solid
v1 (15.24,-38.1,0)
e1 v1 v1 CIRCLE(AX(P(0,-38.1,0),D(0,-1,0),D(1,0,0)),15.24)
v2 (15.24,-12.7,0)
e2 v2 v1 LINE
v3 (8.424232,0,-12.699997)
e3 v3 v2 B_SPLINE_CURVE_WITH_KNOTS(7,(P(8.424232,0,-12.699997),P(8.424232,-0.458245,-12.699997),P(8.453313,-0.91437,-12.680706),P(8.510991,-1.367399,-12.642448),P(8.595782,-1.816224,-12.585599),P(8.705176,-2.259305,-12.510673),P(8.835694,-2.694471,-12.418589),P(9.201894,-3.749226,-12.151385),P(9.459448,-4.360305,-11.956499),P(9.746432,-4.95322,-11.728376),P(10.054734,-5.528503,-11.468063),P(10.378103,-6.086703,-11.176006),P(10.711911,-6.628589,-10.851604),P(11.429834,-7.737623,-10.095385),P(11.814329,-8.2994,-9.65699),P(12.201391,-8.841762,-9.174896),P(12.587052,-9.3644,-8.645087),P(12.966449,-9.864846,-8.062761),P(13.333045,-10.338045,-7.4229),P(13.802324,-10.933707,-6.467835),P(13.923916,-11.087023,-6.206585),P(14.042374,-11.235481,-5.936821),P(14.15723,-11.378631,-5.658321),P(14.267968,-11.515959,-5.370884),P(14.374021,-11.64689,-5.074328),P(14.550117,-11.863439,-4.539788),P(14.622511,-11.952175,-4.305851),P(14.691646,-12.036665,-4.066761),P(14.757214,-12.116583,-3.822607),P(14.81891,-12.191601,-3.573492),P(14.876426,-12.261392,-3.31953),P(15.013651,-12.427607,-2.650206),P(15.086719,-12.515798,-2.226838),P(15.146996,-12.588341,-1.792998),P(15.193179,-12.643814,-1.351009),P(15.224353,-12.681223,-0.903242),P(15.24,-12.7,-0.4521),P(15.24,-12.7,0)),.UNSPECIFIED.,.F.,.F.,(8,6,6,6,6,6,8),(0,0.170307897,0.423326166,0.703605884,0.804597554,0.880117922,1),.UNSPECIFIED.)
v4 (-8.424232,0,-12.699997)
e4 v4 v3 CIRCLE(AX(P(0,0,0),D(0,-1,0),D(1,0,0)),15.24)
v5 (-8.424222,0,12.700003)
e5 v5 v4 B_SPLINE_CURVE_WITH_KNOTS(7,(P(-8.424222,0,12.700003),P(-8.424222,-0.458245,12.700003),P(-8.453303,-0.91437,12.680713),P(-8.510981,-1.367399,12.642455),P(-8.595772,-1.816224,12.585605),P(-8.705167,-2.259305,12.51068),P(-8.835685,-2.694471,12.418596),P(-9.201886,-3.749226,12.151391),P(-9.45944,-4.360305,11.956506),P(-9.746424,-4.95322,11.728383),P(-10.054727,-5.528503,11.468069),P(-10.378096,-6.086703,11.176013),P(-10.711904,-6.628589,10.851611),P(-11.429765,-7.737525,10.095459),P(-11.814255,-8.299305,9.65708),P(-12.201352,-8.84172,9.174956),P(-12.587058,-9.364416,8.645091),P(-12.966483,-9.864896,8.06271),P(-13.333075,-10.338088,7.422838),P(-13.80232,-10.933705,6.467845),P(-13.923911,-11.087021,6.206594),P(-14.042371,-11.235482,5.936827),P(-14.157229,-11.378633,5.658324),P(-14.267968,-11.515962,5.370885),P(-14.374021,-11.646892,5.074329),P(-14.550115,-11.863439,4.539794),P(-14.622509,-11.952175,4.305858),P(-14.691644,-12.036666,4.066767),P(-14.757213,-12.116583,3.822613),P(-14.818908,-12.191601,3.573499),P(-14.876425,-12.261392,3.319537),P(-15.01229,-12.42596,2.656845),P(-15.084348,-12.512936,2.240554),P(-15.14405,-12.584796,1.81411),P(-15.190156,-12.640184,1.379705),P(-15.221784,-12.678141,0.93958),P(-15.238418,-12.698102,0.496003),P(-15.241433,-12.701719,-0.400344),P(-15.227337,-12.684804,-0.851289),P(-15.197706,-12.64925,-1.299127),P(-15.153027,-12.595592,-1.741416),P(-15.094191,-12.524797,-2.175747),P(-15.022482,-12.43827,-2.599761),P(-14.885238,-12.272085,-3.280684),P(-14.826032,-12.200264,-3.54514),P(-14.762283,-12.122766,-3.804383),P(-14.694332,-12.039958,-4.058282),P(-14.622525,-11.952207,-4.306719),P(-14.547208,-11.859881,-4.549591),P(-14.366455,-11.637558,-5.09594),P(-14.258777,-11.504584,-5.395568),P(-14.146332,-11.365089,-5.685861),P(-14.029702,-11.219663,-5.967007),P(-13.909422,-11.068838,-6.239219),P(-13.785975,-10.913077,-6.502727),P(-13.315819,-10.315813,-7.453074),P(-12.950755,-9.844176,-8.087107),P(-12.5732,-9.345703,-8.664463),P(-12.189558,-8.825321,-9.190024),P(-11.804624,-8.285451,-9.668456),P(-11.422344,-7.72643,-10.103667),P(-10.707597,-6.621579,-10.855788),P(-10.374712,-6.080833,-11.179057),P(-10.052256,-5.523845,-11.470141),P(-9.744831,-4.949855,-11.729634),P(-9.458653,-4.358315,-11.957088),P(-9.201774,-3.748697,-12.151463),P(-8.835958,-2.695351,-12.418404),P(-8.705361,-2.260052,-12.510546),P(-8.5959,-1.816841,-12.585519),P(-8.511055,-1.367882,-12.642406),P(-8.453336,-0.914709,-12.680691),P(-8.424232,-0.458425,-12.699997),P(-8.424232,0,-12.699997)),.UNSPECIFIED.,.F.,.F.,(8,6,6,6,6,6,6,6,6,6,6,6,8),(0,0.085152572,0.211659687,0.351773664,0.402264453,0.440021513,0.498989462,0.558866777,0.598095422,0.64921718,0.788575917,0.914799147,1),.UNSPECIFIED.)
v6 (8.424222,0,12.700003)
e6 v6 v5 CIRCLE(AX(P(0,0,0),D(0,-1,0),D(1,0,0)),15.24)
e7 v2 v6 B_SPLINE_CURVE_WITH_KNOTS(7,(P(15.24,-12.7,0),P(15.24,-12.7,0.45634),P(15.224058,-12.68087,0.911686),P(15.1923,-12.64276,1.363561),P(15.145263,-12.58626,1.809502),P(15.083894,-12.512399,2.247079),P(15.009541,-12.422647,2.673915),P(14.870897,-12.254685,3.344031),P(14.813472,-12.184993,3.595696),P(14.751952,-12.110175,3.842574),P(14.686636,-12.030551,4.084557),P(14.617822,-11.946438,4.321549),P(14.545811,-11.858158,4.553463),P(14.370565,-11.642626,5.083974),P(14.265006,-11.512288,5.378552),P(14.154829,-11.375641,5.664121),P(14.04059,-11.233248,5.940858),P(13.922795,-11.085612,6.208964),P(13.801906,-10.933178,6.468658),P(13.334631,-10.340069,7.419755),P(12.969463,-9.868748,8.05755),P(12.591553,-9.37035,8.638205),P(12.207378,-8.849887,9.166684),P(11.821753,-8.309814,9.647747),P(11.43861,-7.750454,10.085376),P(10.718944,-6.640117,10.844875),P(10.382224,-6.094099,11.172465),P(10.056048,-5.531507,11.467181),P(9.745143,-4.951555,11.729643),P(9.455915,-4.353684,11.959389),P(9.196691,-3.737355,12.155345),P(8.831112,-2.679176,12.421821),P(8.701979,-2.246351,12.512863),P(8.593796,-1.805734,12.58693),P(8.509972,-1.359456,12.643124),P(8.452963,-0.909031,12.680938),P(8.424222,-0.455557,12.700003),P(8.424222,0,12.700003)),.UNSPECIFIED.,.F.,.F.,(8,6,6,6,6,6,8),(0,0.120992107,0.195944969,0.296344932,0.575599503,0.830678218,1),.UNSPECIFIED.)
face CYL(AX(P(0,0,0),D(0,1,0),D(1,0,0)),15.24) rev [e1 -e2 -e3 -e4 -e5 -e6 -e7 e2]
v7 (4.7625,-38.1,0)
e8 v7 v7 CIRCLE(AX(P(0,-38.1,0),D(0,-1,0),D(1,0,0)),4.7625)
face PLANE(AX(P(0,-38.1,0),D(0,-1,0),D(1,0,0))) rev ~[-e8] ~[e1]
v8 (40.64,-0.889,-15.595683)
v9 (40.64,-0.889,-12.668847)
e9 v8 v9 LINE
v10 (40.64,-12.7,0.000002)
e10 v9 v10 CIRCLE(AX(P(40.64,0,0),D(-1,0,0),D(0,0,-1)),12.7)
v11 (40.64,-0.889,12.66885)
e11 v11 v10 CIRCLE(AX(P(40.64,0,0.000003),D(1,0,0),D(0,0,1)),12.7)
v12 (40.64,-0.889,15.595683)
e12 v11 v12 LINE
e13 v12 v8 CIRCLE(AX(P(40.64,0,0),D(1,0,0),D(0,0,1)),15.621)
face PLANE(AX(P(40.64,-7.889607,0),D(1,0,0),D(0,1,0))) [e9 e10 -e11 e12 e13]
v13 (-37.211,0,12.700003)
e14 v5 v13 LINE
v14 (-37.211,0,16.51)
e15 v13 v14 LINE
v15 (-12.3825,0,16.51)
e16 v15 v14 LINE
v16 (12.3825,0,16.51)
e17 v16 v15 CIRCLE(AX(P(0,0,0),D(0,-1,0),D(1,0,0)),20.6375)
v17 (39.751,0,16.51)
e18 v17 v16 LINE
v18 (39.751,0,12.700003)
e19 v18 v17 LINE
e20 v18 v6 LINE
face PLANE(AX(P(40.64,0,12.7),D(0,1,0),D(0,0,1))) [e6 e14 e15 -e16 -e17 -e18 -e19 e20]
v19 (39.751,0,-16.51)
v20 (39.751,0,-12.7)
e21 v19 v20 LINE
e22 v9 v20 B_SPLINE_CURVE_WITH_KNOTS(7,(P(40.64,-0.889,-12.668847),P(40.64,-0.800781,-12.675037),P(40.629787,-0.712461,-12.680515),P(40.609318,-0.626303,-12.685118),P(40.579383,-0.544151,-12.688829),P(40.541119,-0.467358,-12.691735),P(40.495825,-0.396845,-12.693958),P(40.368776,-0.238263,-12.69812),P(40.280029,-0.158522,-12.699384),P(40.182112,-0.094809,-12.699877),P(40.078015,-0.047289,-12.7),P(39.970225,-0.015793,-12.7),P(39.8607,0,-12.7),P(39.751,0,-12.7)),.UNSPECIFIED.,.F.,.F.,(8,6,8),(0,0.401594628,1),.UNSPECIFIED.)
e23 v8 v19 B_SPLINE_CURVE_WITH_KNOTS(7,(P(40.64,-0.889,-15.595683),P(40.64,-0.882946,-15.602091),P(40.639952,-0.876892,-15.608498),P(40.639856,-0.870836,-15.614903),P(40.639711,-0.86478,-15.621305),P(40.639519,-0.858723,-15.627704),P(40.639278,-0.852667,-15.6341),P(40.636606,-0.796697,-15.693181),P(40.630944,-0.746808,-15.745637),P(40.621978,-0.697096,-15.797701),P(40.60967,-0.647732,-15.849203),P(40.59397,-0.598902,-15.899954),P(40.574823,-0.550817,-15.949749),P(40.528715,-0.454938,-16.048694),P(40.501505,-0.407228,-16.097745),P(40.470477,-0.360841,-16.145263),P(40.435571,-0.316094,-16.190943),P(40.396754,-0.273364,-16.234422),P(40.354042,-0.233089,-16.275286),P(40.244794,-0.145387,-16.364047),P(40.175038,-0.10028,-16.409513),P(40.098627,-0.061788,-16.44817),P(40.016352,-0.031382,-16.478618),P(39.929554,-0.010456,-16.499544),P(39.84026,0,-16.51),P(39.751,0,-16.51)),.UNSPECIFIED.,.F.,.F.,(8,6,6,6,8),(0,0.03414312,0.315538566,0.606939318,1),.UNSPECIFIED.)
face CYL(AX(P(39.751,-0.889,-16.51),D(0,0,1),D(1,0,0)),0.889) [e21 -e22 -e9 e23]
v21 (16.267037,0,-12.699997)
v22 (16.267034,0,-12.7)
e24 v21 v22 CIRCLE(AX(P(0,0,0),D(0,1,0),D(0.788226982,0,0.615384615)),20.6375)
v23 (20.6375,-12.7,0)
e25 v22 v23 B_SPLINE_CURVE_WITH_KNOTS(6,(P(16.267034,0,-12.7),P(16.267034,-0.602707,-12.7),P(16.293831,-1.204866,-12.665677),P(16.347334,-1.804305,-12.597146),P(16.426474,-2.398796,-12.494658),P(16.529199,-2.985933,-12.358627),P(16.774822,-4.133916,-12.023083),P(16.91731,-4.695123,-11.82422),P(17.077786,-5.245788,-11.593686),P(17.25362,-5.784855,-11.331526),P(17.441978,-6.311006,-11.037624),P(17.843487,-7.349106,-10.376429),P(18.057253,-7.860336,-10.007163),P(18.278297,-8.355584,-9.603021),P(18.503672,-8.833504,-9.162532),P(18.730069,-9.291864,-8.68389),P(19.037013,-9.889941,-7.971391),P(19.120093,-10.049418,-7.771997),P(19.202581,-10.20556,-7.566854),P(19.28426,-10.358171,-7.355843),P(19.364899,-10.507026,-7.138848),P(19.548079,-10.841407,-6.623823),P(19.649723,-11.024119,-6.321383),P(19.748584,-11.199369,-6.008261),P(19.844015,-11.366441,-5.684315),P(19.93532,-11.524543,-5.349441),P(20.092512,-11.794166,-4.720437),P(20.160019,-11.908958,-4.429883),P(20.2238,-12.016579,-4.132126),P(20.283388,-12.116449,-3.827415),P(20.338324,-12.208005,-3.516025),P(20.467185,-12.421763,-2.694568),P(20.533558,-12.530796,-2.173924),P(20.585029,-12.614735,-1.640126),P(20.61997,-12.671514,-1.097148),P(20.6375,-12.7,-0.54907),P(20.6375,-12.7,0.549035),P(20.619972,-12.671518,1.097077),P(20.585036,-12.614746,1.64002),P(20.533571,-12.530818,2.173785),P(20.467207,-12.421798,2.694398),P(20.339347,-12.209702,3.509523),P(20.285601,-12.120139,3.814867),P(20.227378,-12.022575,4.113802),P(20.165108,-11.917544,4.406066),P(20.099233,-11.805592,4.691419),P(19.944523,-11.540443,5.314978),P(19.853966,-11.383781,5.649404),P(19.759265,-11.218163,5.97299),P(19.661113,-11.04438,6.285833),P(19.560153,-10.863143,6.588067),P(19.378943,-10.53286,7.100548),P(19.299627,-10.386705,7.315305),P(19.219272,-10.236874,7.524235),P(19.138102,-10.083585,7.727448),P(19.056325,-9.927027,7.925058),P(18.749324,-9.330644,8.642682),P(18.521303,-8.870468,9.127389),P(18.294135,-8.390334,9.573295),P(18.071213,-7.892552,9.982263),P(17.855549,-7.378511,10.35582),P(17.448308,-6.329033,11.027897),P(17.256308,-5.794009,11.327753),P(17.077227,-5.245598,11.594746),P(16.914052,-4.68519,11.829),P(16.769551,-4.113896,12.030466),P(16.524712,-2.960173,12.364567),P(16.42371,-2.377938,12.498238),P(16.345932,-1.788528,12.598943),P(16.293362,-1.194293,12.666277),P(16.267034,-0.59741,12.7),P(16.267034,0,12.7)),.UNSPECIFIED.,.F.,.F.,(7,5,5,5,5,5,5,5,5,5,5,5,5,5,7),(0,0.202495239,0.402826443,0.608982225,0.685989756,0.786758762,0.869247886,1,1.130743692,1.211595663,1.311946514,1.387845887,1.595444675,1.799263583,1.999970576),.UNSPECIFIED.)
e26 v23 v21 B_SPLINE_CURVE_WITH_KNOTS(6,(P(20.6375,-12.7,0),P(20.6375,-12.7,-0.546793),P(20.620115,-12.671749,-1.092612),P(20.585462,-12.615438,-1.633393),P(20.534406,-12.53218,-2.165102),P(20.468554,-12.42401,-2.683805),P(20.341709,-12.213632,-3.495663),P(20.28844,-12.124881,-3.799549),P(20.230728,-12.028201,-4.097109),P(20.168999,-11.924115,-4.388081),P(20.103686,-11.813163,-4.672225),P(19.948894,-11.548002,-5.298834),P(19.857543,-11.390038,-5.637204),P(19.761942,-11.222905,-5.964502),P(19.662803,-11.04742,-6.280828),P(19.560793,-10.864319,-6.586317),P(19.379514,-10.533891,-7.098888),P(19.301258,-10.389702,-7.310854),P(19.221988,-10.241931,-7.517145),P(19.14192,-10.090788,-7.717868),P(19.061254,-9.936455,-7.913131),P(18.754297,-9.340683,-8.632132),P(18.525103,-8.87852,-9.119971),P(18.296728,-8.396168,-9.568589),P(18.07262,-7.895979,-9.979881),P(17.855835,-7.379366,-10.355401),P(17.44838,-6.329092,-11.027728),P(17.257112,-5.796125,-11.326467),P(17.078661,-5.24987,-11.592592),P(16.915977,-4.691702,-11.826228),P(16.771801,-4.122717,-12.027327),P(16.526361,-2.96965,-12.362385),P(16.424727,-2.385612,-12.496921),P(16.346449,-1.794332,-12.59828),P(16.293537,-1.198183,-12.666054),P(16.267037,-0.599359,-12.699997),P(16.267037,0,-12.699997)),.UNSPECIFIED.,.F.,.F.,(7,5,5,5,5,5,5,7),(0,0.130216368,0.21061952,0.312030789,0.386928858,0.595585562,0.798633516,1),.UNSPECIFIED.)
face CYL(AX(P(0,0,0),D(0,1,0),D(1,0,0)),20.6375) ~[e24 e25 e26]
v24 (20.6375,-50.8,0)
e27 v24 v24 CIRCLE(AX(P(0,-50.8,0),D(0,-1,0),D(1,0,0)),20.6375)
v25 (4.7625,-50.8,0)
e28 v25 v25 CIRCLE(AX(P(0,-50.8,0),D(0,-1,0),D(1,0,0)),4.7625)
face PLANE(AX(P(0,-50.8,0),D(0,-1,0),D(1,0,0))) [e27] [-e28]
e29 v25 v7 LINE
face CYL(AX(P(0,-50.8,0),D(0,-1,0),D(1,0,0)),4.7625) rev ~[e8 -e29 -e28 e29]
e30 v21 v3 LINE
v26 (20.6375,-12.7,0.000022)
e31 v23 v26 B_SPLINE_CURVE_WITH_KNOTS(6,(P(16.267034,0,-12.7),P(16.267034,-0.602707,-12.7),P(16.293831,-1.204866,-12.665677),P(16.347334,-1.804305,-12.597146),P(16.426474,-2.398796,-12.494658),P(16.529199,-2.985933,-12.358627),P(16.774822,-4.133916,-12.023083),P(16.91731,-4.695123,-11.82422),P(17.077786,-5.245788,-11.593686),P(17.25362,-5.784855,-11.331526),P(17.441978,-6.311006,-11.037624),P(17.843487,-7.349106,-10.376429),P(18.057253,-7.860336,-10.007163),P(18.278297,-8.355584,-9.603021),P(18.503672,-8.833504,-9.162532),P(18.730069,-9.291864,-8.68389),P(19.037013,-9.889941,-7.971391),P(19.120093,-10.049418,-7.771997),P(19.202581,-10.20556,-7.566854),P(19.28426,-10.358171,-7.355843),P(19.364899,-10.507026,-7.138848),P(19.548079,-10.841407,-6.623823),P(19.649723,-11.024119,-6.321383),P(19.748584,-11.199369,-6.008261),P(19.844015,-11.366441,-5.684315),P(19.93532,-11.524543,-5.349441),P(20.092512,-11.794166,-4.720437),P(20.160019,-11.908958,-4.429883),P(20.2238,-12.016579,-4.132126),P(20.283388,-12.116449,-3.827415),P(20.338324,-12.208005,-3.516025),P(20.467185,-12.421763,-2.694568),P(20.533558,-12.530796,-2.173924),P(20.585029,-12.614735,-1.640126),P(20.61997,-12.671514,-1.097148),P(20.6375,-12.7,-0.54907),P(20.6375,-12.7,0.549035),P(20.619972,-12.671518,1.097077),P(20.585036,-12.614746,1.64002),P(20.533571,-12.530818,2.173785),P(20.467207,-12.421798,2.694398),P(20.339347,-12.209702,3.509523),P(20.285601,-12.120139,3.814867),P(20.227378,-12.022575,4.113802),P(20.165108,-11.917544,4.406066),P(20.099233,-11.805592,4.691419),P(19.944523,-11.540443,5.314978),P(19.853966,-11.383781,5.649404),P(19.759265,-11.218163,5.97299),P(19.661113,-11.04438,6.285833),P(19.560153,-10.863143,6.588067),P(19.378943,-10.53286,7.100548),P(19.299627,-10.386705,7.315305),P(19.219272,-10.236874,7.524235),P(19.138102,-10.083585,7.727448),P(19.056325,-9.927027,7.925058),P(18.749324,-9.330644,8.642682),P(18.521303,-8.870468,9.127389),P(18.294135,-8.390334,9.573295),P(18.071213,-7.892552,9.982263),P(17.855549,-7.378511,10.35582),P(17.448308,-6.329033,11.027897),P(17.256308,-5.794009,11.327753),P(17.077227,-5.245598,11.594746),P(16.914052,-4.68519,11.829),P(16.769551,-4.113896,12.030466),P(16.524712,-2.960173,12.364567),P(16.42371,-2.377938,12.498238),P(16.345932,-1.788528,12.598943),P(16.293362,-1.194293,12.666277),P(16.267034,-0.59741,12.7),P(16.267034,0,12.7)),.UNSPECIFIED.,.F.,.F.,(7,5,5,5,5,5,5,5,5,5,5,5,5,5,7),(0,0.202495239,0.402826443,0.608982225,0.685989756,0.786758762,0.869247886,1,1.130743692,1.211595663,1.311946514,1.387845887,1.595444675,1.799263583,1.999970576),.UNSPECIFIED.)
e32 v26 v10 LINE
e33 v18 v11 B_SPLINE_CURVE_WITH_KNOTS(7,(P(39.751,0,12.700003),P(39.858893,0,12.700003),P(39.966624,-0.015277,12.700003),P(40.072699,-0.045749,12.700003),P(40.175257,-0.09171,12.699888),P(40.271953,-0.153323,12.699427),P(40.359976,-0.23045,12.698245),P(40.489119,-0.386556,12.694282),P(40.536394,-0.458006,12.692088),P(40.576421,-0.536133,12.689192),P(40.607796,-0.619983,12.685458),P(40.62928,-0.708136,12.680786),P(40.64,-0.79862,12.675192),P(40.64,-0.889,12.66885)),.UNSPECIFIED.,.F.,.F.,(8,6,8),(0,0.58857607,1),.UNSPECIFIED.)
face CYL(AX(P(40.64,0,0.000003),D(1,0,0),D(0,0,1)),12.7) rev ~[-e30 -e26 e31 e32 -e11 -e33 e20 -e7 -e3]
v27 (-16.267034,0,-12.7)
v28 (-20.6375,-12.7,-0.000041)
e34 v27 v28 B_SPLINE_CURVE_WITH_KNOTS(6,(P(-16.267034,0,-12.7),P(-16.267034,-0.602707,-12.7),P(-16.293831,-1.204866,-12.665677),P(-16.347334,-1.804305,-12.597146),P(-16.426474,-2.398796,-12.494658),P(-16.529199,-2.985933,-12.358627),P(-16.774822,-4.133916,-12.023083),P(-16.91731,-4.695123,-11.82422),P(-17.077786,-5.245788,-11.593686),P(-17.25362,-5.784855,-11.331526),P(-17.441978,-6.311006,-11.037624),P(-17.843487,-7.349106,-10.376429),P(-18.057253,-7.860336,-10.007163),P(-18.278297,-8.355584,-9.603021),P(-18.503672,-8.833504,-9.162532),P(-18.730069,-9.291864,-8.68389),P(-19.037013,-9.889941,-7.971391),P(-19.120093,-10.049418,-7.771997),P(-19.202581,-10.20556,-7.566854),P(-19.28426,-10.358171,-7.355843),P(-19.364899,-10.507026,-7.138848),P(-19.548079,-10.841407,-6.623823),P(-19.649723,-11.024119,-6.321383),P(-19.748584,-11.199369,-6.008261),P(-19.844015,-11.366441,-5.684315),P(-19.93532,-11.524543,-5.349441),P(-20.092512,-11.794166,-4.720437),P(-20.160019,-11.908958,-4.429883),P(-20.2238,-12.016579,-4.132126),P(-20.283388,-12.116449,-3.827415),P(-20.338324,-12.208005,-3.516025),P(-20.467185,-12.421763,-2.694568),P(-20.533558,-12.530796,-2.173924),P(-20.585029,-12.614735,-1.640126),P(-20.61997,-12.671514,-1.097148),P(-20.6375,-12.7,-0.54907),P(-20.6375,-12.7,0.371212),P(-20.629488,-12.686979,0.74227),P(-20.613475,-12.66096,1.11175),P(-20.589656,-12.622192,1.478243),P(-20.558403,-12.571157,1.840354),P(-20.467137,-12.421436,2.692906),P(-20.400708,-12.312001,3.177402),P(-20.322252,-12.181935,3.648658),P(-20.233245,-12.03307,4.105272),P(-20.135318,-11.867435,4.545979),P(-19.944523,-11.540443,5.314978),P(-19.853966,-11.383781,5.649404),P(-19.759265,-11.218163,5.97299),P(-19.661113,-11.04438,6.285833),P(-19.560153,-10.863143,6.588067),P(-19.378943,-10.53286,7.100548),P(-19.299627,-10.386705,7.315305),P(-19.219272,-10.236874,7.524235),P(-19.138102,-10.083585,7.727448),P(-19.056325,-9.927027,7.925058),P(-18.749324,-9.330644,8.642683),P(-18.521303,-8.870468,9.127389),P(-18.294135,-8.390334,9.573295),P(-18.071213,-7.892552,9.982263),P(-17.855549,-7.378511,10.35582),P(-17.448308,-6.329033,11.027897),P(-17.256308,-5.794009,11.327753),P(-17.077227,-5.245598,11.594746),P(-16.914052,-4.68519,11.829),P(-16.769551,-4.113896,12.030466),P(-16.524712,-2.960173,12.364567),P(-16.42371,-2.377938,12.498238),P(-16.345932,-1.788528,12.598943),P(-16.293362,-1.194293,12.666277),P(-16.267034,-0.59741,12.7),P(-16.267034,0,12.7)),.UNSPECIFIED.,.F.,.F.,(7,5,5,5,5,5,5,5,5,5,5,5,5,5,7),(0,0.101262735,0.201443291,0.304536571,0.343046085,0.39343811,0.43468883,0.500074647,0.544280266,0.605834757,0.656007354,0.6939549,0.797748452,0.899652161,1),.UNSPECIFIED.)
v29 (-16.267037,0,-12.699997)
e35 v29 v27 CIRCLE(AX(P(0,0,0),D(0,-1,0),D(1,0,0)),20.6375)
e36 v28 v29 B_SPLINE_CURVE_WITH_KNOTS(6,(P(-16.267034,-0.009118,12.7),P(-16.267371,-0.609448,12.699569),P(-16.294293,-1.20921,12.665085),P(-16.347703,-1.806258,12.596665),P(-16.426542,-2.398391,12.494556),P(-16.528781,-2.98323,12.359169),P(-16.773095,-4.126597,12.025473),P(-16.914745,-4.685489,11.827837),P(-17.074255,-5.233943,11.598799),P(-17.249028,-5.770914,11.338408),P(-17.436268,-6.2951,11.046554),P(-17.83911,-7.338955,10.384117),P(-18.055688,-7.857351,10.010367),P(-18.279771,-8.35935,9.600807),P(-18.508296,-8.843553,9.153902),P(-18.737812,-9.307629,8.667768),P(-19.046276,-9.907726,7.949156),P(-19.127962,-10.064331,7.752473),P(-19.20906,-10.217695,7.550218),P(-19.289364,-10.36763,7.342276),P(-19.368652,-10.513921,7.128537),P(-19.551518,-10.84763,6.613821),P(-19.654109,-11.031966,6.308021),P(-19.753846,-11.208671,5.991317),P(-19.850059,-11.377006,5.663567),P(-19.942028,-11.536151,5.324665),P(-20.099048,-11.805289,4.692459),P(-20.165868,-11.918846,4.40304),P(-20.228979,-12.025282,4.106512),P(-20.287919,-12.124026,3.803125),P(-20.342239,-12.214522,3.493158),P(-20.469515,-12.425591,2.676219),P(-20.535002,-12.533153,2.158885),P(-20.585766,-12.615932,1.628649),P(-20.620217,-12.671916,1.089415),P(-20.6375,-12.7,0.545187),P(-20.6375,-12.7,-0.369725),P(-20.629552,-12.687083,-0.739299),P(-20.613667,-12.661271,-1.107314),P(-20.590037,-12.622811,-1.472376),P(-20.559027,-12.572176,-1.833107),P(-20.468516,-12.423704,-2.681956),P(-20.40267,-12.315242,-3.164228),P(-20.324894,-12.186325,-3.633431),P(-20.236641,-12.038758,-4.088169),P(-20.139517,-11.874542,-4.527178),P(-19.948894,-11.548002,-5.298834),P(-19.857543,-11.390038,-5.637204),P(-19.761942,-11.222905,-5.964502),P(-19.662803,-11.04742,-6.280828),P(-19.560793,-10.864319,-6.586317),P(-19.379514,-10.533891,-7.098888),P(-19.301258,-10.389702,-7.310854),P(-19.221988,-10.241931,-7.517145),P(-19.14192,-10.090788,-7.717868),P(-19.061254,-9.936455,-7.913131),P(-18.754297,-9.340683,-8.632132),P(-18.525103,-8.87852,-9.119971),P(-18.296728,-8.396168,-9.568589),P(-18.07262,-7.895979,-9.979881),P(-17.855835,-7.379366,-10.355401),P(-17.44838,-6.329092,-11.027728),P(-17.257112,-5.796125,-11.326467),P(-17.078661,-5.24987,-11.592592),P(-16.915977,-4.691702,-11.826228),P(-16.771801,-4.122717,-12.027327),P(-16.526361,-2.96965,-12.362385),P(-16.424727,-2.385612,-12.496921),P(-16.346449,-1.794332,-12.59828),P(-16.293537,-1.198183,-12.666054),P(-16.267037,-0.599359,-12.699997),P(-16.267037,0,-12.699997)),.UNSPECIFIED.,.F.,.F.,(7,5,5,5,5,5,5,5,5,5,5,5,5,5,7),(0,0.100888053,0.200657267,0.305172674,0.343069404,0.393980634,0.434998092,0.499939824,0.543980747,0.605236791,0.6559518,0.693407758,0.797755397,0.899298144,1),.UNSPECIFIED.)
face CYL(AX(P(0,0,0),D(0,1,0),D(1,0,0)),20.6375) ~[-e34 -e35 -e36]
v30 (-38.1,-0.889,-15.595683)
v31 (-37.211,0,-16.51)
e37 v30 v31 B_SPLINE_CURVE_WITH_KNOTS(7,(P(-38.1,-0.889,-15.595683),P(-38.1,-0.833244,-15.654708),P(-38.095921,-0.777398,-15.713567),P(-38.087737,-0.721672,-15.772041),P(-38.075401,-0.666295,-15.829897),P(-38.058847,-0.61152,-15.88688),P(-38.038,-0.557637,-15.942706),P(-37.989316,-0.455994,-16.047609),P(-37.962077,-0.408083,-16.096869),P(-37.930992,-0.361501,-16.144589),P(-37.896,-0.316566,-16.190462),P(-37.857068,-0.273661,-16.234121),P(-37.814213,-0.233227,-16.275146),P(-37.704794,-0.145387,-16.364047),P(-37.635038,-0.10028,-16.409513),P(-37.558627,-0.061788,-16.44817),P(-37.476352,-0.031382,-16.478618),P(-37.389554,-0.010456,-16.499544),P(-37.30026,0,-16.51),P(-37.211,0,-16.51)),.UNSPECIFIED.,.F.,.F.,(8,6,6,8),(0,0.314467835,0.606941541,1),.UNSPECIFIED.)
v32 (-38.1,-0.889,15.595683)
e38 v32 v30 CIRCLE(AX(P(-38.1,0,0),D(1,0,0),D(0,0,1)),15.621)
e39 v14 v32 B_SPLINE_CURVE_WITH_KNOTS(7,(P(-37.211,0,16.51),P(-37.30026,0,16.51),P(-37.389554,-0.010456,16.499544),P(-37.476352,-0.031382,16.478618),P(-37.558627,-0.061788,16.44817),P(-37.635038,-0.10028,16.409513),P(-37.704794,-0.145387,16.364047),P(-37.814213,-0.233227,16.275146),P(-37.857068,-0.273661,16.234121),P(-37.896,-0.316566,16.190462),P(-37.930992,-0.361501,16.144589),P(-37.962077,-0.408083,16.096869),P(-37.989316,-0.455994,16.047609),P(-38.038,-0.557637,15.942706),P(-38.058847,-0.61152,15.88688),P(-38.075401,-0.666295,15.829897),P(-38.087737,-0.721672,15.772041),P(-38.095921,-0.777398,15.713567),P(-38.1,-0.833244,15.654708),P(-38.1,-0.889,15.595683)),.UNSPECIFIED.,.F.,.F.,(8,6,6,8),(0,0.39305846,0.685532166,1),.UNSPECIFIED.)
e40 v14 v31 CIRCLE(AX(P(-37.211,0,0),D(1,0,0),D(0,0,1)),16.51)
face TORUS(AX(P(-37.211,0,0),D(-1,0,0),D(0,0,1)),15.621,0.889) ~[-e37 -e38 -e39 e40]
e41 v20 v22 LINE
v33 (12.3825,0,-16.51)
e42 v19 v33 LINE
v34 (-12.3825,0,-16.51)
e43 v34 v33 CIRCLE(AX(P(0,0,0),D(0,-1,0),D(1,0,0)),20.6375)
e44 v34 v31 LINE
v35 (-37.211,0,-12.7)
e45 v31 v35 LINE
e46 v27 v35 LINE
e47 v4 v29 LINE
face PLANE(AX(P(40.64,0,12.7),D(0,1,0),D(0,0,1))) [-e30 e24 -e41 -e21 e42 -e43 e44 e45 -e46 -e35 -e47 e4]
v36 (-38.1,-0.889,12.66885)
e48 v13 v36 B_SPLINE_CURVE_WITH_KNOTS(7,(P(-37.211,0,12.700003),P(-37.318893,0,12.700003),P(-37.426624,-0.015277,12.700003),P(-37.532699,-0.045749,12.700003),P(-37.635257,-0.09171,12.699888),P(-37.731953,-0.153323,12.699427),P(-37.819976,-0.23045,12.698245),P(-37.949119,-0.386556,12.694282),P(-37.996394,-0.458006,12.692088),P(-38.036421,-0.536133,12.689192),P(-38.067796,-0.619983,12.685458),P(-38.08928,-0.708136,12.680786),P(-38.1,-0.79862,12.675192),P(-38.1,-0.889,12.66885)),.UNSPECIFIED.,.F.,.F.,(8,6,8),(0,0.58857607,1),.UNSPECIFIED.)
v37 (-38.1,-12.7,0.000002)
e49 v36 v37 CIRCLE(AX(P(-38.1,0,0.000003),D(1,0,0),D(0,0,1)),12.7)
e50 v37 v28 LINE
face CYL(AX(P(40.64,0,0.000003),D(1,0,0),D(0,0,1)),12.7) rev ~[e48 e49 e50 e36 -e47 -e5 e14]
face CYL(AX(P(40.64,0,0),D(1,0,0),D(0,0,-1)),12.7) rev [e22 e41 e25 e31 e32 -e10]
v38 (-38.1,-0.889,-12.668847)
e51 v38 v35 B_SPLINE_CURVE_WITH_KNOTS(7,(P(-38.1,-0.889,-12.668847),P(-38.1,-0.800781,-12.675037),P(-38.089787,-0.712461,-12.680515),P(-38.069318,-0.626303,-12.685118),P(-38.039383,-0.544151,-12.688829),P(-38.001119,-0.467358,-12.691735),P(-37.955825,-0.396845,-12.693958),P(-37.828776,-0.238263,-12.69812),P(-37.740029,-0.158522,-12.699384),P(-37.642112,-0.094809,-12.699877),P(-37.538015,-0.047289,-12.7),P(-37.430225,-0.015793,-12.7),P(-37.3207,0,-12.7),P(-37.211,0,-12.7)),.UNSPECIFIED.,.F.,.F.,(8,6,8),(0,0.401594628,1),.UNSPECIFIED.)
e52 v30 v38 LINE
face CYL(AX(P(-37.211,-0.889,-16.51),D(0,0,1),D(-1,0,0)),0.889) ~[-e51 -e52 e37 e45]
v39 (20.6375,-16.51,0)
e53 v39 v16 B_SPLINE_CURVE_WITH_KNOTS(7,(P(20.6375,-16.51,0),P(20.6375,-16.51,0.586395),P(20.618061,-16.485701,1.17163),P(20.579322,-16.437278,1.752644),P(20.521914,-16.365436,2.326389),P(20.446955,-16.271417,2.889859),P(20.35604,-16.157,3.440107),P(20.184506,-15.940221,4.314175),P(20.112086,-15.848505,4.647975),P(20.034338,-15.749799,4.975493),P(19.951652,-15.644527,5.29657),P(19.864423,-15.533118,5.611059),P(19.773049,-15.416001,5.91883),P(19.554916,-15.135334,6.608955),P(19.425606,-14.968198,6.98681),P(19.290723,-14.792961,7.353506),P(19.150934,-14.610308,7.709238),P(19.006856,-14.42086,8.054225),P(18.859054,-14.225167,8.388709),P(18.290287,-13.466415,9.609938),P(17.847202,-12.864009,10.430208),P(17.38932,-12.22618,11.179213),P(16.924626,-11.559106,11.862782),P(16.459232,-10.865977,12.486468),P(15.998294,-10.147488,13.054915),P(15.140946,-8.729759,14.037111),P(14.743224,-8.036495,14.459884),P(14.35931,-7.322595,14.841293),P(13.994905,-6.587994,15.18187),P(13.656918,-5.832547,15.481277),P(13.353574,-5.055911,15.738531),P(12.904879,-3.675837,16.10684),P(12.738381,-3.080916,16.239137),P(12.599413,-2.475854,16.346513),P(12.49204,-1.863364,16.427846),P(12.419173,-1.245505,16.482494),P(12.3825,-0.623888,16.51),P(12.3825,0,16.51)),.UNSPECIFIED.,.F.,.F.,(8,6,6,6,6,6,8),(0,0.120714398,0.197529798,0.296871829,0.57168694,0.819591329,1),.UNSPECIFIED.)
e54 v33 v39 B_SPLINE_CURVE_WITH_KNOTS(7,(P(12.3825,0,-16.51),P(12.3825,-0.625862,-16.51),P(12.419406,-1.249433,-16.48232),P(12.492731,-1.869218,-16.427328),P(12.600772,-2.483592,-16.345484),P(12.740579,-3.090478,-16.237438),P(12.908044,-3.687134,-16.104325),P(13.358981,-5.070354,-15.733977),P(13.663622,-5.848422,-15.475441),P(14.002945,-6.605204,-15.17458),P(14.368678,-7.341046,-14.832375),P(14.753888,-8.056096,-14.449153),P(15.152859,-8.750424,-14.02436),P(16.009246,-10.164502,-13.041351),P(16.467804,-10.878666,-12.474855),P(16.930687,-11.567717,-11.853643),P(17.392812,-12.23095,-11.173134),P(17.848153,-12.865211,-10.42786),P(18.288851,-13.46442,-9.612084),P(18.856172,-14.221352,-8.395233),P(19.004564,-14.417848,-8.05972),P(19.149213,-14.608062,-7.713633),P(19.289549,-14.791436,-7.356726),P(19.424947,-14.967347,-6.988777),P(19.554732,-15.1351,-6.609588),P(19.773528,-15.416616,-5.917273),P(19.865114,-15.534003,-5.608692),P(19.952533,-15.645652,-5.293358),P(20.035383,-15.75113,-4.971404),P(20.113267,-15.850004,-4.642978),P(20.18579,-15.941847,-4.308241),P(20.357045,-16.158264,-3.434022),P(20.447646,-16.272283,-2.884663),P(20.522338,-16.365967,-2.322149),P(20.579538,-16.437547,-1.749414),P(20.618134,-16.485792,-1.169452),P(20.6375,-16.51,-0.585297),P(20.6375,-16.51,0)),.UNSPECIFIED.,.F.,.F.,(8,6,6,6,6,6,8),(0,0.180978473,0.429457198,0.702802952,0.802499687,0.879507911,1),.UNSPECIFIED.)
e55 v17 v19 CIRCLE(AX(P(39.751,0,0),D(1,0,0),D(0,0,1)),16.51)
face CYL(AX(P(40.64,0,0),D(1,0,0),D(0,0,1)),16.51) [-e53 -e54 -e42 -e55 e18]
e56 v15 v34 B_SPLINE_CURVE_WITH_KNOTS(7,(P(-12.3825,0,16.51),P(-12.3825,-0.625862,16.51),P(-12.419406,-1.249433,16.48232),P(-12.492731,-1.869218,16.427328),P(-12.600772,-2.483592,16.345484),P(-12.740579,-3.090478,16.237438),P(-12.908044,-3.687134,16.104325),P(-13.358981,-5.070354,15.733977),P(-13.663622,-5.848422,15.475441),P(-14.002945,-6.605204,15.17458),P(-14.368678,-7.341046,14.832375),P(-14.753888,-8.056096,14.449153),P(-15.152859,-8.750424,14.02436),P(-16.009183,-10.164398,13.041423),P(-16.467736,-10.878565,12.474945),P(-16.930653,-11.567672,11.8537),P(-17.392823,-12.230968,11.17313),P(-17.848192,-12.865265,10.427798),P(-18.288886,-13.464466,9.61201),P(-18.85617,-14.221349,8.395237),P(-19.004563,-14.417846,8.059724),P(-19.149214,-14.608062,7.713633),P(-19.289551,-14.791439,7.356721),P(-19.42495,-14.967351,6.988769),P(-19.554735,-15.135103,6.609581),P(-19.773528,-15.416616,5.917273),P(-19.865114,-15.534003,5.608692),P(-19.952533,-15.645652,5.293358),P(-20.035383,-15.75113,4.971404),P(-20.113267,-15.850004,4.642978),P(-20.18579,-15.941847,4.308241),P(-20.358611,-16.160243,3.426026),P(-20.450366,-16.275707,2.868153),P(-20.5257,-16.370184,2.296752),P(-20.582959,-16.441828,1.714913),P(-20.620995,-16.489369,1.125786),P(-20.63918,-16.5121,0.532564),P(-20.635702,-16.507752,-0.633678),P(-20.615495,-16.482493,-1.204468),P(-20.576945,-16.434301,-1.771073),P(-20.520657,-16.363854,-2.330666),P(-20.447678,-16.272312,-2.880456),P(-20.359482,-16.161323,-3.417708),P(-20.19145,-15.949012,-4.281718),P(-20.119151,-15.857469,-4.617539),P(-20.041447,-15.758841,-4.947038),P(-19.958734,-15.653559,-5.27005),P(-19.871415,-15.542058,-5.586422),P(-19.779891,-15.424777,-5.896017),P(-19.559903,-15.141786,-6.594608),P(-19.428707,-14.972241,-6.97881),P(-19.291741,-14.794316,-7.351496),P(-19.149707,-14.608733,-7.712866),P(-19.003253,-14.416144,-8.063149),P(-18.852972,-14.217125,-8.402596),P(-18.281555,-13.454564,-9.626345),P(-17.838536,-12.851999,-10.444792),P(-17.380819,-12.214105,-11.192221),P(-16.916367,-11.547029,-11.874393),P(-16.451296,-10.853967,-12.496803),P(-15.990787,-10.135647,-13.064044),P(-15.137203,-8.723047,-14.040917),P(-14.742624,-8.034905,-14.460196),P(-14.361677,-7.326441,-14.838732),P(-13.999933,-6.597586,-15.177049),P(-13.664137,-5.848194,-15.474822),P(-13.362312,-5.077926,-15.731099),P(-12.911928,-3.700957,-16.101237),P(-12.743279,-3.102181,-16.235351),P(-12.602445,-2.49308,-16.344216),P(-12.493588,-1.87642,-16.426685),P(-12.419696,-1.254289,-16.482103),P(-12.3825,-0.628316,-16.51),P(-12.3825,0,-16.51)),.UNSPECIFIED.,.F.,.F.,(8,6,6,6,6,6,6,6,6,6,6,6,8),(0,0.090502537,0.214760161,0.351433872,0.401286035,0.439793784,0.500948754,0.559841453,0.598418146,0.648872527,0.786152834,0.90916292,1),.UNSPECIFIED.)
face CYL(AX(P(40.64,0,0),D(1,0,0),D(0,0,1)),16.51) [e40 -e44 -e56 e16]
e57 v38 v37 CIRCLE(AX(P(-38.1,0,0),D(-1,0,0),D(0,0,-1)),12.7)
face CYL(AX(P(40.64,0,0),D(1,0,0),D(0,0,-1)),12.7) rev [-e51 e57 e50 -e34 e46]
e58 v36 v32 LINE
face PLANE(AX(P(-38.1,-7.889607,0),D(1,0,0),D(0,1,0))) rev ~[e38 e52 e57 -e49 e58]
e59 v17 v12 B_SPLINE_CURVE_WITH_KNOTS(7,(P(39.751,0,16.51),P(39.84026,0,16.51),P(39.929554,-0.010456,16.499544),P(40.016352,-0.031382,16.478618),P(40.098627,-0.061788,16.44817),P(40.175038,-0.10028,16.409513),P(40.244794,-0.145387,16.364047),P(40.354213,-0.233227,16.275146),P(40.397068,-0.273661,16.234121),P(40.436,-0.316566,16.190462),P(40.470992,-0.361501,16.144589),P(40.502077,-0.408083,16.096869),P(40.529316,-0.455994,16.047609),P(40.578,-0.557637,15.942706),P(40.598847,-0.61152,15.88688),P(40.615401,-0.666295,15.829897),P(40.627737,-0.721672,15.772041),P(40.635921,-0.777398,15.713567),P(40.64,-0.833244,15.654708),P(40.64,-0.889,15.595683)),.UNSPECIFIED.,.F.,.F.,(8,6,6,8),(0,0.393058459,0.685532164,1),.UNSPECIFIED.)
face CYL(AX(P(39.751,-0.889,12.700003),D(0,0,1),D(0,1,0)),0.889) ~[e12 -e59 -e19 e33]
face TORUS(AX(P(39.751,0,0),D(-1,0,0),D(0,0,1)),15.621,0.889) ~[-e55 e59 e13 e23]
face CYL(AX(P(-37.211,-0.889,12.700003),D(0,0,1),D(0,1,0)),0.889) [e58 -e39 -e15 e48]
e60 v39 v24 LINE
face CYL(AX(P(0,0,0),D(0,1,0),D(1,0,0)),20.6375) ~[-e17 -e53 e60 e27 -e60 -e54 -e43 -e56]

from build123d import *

# Parameters (mm, degrees)
F0_R      = 20.6375
F1_DEPTH  = 50.8
F4_DEPTH  = 78.74
F5_R      = 15.24
F6_DEPTH  = 38.1
F8_DEPTH  = 78.7410001
F9_R      = 4.7625
F10_DEPTH = 50.8010001
F11_R     = 0.889


with BuildPart() as f1:
    # F0 (on Front) → F1 (new body)
    with BuildSketch(Plane.XZ):
        Circle(F0_R)
    extrude(amount=F1_DEPTH)

    # F3 (on offset) → F4 (join)
    with BuildSketch(Plane.YZ.offset(40.64)):
        with BuildLine():
            Line((0, 12.7), (0, 16.51))
            ThreePointArc((0, 16.51), (-16.51, 0), (0, -16.51))
            Line((0, -16.51), (0, -12.7))
            ThreePointArc((0, -12.7), (-12.7, 0), (0, 12.7))
        make_face()
    extrude(amount=-F4_DEPTH)

    # F5 (on Front) → F6 (cut)
    with BuildSketch(Plane.XZ):
        Circle(F5_R)
    extrude(amount=F6_DEPTH, mode=Mode.SUBTRACT)

    # F7 (on offset) → F8 (cut, through all)
    with BuildSketch(Plane.YZ.offset(40.64)):
        with BuildLine():
            Line((0, -12.6999967271), (0, 12.7000032729))
            ThreePointArc((0, 12.7000032729), (-12.7, 3.2729e-06), (0, -12.6999967271))
        make_face()
    extrude(amount=-F8_DEPTH, mode=Mode.SUBTRACT)

    # F9 (on face) → F10 (cut, through all)
    with BuildSketch(Plane.XZ.offset(50.8)):
        Circle(F9_R)
    extrude(amount=-F10_DEPTH, mode=Mode.SUBTRACT)

    # F11
    f11_edges = [f1.edges().sort_by_distance(p)[0] for p in [
        (-38.1, 0, -14.605),
        (-38.1, 0, 14.605002),
        (40.64, 0, -14.605),
        (40.64, 0, 14.605002),
        (-38.1, -16.51, 0),
        (40.64, -16.51, 0),
    ]]
    fillet(f11_edges, radius=F11_R)


solid = f1.part
